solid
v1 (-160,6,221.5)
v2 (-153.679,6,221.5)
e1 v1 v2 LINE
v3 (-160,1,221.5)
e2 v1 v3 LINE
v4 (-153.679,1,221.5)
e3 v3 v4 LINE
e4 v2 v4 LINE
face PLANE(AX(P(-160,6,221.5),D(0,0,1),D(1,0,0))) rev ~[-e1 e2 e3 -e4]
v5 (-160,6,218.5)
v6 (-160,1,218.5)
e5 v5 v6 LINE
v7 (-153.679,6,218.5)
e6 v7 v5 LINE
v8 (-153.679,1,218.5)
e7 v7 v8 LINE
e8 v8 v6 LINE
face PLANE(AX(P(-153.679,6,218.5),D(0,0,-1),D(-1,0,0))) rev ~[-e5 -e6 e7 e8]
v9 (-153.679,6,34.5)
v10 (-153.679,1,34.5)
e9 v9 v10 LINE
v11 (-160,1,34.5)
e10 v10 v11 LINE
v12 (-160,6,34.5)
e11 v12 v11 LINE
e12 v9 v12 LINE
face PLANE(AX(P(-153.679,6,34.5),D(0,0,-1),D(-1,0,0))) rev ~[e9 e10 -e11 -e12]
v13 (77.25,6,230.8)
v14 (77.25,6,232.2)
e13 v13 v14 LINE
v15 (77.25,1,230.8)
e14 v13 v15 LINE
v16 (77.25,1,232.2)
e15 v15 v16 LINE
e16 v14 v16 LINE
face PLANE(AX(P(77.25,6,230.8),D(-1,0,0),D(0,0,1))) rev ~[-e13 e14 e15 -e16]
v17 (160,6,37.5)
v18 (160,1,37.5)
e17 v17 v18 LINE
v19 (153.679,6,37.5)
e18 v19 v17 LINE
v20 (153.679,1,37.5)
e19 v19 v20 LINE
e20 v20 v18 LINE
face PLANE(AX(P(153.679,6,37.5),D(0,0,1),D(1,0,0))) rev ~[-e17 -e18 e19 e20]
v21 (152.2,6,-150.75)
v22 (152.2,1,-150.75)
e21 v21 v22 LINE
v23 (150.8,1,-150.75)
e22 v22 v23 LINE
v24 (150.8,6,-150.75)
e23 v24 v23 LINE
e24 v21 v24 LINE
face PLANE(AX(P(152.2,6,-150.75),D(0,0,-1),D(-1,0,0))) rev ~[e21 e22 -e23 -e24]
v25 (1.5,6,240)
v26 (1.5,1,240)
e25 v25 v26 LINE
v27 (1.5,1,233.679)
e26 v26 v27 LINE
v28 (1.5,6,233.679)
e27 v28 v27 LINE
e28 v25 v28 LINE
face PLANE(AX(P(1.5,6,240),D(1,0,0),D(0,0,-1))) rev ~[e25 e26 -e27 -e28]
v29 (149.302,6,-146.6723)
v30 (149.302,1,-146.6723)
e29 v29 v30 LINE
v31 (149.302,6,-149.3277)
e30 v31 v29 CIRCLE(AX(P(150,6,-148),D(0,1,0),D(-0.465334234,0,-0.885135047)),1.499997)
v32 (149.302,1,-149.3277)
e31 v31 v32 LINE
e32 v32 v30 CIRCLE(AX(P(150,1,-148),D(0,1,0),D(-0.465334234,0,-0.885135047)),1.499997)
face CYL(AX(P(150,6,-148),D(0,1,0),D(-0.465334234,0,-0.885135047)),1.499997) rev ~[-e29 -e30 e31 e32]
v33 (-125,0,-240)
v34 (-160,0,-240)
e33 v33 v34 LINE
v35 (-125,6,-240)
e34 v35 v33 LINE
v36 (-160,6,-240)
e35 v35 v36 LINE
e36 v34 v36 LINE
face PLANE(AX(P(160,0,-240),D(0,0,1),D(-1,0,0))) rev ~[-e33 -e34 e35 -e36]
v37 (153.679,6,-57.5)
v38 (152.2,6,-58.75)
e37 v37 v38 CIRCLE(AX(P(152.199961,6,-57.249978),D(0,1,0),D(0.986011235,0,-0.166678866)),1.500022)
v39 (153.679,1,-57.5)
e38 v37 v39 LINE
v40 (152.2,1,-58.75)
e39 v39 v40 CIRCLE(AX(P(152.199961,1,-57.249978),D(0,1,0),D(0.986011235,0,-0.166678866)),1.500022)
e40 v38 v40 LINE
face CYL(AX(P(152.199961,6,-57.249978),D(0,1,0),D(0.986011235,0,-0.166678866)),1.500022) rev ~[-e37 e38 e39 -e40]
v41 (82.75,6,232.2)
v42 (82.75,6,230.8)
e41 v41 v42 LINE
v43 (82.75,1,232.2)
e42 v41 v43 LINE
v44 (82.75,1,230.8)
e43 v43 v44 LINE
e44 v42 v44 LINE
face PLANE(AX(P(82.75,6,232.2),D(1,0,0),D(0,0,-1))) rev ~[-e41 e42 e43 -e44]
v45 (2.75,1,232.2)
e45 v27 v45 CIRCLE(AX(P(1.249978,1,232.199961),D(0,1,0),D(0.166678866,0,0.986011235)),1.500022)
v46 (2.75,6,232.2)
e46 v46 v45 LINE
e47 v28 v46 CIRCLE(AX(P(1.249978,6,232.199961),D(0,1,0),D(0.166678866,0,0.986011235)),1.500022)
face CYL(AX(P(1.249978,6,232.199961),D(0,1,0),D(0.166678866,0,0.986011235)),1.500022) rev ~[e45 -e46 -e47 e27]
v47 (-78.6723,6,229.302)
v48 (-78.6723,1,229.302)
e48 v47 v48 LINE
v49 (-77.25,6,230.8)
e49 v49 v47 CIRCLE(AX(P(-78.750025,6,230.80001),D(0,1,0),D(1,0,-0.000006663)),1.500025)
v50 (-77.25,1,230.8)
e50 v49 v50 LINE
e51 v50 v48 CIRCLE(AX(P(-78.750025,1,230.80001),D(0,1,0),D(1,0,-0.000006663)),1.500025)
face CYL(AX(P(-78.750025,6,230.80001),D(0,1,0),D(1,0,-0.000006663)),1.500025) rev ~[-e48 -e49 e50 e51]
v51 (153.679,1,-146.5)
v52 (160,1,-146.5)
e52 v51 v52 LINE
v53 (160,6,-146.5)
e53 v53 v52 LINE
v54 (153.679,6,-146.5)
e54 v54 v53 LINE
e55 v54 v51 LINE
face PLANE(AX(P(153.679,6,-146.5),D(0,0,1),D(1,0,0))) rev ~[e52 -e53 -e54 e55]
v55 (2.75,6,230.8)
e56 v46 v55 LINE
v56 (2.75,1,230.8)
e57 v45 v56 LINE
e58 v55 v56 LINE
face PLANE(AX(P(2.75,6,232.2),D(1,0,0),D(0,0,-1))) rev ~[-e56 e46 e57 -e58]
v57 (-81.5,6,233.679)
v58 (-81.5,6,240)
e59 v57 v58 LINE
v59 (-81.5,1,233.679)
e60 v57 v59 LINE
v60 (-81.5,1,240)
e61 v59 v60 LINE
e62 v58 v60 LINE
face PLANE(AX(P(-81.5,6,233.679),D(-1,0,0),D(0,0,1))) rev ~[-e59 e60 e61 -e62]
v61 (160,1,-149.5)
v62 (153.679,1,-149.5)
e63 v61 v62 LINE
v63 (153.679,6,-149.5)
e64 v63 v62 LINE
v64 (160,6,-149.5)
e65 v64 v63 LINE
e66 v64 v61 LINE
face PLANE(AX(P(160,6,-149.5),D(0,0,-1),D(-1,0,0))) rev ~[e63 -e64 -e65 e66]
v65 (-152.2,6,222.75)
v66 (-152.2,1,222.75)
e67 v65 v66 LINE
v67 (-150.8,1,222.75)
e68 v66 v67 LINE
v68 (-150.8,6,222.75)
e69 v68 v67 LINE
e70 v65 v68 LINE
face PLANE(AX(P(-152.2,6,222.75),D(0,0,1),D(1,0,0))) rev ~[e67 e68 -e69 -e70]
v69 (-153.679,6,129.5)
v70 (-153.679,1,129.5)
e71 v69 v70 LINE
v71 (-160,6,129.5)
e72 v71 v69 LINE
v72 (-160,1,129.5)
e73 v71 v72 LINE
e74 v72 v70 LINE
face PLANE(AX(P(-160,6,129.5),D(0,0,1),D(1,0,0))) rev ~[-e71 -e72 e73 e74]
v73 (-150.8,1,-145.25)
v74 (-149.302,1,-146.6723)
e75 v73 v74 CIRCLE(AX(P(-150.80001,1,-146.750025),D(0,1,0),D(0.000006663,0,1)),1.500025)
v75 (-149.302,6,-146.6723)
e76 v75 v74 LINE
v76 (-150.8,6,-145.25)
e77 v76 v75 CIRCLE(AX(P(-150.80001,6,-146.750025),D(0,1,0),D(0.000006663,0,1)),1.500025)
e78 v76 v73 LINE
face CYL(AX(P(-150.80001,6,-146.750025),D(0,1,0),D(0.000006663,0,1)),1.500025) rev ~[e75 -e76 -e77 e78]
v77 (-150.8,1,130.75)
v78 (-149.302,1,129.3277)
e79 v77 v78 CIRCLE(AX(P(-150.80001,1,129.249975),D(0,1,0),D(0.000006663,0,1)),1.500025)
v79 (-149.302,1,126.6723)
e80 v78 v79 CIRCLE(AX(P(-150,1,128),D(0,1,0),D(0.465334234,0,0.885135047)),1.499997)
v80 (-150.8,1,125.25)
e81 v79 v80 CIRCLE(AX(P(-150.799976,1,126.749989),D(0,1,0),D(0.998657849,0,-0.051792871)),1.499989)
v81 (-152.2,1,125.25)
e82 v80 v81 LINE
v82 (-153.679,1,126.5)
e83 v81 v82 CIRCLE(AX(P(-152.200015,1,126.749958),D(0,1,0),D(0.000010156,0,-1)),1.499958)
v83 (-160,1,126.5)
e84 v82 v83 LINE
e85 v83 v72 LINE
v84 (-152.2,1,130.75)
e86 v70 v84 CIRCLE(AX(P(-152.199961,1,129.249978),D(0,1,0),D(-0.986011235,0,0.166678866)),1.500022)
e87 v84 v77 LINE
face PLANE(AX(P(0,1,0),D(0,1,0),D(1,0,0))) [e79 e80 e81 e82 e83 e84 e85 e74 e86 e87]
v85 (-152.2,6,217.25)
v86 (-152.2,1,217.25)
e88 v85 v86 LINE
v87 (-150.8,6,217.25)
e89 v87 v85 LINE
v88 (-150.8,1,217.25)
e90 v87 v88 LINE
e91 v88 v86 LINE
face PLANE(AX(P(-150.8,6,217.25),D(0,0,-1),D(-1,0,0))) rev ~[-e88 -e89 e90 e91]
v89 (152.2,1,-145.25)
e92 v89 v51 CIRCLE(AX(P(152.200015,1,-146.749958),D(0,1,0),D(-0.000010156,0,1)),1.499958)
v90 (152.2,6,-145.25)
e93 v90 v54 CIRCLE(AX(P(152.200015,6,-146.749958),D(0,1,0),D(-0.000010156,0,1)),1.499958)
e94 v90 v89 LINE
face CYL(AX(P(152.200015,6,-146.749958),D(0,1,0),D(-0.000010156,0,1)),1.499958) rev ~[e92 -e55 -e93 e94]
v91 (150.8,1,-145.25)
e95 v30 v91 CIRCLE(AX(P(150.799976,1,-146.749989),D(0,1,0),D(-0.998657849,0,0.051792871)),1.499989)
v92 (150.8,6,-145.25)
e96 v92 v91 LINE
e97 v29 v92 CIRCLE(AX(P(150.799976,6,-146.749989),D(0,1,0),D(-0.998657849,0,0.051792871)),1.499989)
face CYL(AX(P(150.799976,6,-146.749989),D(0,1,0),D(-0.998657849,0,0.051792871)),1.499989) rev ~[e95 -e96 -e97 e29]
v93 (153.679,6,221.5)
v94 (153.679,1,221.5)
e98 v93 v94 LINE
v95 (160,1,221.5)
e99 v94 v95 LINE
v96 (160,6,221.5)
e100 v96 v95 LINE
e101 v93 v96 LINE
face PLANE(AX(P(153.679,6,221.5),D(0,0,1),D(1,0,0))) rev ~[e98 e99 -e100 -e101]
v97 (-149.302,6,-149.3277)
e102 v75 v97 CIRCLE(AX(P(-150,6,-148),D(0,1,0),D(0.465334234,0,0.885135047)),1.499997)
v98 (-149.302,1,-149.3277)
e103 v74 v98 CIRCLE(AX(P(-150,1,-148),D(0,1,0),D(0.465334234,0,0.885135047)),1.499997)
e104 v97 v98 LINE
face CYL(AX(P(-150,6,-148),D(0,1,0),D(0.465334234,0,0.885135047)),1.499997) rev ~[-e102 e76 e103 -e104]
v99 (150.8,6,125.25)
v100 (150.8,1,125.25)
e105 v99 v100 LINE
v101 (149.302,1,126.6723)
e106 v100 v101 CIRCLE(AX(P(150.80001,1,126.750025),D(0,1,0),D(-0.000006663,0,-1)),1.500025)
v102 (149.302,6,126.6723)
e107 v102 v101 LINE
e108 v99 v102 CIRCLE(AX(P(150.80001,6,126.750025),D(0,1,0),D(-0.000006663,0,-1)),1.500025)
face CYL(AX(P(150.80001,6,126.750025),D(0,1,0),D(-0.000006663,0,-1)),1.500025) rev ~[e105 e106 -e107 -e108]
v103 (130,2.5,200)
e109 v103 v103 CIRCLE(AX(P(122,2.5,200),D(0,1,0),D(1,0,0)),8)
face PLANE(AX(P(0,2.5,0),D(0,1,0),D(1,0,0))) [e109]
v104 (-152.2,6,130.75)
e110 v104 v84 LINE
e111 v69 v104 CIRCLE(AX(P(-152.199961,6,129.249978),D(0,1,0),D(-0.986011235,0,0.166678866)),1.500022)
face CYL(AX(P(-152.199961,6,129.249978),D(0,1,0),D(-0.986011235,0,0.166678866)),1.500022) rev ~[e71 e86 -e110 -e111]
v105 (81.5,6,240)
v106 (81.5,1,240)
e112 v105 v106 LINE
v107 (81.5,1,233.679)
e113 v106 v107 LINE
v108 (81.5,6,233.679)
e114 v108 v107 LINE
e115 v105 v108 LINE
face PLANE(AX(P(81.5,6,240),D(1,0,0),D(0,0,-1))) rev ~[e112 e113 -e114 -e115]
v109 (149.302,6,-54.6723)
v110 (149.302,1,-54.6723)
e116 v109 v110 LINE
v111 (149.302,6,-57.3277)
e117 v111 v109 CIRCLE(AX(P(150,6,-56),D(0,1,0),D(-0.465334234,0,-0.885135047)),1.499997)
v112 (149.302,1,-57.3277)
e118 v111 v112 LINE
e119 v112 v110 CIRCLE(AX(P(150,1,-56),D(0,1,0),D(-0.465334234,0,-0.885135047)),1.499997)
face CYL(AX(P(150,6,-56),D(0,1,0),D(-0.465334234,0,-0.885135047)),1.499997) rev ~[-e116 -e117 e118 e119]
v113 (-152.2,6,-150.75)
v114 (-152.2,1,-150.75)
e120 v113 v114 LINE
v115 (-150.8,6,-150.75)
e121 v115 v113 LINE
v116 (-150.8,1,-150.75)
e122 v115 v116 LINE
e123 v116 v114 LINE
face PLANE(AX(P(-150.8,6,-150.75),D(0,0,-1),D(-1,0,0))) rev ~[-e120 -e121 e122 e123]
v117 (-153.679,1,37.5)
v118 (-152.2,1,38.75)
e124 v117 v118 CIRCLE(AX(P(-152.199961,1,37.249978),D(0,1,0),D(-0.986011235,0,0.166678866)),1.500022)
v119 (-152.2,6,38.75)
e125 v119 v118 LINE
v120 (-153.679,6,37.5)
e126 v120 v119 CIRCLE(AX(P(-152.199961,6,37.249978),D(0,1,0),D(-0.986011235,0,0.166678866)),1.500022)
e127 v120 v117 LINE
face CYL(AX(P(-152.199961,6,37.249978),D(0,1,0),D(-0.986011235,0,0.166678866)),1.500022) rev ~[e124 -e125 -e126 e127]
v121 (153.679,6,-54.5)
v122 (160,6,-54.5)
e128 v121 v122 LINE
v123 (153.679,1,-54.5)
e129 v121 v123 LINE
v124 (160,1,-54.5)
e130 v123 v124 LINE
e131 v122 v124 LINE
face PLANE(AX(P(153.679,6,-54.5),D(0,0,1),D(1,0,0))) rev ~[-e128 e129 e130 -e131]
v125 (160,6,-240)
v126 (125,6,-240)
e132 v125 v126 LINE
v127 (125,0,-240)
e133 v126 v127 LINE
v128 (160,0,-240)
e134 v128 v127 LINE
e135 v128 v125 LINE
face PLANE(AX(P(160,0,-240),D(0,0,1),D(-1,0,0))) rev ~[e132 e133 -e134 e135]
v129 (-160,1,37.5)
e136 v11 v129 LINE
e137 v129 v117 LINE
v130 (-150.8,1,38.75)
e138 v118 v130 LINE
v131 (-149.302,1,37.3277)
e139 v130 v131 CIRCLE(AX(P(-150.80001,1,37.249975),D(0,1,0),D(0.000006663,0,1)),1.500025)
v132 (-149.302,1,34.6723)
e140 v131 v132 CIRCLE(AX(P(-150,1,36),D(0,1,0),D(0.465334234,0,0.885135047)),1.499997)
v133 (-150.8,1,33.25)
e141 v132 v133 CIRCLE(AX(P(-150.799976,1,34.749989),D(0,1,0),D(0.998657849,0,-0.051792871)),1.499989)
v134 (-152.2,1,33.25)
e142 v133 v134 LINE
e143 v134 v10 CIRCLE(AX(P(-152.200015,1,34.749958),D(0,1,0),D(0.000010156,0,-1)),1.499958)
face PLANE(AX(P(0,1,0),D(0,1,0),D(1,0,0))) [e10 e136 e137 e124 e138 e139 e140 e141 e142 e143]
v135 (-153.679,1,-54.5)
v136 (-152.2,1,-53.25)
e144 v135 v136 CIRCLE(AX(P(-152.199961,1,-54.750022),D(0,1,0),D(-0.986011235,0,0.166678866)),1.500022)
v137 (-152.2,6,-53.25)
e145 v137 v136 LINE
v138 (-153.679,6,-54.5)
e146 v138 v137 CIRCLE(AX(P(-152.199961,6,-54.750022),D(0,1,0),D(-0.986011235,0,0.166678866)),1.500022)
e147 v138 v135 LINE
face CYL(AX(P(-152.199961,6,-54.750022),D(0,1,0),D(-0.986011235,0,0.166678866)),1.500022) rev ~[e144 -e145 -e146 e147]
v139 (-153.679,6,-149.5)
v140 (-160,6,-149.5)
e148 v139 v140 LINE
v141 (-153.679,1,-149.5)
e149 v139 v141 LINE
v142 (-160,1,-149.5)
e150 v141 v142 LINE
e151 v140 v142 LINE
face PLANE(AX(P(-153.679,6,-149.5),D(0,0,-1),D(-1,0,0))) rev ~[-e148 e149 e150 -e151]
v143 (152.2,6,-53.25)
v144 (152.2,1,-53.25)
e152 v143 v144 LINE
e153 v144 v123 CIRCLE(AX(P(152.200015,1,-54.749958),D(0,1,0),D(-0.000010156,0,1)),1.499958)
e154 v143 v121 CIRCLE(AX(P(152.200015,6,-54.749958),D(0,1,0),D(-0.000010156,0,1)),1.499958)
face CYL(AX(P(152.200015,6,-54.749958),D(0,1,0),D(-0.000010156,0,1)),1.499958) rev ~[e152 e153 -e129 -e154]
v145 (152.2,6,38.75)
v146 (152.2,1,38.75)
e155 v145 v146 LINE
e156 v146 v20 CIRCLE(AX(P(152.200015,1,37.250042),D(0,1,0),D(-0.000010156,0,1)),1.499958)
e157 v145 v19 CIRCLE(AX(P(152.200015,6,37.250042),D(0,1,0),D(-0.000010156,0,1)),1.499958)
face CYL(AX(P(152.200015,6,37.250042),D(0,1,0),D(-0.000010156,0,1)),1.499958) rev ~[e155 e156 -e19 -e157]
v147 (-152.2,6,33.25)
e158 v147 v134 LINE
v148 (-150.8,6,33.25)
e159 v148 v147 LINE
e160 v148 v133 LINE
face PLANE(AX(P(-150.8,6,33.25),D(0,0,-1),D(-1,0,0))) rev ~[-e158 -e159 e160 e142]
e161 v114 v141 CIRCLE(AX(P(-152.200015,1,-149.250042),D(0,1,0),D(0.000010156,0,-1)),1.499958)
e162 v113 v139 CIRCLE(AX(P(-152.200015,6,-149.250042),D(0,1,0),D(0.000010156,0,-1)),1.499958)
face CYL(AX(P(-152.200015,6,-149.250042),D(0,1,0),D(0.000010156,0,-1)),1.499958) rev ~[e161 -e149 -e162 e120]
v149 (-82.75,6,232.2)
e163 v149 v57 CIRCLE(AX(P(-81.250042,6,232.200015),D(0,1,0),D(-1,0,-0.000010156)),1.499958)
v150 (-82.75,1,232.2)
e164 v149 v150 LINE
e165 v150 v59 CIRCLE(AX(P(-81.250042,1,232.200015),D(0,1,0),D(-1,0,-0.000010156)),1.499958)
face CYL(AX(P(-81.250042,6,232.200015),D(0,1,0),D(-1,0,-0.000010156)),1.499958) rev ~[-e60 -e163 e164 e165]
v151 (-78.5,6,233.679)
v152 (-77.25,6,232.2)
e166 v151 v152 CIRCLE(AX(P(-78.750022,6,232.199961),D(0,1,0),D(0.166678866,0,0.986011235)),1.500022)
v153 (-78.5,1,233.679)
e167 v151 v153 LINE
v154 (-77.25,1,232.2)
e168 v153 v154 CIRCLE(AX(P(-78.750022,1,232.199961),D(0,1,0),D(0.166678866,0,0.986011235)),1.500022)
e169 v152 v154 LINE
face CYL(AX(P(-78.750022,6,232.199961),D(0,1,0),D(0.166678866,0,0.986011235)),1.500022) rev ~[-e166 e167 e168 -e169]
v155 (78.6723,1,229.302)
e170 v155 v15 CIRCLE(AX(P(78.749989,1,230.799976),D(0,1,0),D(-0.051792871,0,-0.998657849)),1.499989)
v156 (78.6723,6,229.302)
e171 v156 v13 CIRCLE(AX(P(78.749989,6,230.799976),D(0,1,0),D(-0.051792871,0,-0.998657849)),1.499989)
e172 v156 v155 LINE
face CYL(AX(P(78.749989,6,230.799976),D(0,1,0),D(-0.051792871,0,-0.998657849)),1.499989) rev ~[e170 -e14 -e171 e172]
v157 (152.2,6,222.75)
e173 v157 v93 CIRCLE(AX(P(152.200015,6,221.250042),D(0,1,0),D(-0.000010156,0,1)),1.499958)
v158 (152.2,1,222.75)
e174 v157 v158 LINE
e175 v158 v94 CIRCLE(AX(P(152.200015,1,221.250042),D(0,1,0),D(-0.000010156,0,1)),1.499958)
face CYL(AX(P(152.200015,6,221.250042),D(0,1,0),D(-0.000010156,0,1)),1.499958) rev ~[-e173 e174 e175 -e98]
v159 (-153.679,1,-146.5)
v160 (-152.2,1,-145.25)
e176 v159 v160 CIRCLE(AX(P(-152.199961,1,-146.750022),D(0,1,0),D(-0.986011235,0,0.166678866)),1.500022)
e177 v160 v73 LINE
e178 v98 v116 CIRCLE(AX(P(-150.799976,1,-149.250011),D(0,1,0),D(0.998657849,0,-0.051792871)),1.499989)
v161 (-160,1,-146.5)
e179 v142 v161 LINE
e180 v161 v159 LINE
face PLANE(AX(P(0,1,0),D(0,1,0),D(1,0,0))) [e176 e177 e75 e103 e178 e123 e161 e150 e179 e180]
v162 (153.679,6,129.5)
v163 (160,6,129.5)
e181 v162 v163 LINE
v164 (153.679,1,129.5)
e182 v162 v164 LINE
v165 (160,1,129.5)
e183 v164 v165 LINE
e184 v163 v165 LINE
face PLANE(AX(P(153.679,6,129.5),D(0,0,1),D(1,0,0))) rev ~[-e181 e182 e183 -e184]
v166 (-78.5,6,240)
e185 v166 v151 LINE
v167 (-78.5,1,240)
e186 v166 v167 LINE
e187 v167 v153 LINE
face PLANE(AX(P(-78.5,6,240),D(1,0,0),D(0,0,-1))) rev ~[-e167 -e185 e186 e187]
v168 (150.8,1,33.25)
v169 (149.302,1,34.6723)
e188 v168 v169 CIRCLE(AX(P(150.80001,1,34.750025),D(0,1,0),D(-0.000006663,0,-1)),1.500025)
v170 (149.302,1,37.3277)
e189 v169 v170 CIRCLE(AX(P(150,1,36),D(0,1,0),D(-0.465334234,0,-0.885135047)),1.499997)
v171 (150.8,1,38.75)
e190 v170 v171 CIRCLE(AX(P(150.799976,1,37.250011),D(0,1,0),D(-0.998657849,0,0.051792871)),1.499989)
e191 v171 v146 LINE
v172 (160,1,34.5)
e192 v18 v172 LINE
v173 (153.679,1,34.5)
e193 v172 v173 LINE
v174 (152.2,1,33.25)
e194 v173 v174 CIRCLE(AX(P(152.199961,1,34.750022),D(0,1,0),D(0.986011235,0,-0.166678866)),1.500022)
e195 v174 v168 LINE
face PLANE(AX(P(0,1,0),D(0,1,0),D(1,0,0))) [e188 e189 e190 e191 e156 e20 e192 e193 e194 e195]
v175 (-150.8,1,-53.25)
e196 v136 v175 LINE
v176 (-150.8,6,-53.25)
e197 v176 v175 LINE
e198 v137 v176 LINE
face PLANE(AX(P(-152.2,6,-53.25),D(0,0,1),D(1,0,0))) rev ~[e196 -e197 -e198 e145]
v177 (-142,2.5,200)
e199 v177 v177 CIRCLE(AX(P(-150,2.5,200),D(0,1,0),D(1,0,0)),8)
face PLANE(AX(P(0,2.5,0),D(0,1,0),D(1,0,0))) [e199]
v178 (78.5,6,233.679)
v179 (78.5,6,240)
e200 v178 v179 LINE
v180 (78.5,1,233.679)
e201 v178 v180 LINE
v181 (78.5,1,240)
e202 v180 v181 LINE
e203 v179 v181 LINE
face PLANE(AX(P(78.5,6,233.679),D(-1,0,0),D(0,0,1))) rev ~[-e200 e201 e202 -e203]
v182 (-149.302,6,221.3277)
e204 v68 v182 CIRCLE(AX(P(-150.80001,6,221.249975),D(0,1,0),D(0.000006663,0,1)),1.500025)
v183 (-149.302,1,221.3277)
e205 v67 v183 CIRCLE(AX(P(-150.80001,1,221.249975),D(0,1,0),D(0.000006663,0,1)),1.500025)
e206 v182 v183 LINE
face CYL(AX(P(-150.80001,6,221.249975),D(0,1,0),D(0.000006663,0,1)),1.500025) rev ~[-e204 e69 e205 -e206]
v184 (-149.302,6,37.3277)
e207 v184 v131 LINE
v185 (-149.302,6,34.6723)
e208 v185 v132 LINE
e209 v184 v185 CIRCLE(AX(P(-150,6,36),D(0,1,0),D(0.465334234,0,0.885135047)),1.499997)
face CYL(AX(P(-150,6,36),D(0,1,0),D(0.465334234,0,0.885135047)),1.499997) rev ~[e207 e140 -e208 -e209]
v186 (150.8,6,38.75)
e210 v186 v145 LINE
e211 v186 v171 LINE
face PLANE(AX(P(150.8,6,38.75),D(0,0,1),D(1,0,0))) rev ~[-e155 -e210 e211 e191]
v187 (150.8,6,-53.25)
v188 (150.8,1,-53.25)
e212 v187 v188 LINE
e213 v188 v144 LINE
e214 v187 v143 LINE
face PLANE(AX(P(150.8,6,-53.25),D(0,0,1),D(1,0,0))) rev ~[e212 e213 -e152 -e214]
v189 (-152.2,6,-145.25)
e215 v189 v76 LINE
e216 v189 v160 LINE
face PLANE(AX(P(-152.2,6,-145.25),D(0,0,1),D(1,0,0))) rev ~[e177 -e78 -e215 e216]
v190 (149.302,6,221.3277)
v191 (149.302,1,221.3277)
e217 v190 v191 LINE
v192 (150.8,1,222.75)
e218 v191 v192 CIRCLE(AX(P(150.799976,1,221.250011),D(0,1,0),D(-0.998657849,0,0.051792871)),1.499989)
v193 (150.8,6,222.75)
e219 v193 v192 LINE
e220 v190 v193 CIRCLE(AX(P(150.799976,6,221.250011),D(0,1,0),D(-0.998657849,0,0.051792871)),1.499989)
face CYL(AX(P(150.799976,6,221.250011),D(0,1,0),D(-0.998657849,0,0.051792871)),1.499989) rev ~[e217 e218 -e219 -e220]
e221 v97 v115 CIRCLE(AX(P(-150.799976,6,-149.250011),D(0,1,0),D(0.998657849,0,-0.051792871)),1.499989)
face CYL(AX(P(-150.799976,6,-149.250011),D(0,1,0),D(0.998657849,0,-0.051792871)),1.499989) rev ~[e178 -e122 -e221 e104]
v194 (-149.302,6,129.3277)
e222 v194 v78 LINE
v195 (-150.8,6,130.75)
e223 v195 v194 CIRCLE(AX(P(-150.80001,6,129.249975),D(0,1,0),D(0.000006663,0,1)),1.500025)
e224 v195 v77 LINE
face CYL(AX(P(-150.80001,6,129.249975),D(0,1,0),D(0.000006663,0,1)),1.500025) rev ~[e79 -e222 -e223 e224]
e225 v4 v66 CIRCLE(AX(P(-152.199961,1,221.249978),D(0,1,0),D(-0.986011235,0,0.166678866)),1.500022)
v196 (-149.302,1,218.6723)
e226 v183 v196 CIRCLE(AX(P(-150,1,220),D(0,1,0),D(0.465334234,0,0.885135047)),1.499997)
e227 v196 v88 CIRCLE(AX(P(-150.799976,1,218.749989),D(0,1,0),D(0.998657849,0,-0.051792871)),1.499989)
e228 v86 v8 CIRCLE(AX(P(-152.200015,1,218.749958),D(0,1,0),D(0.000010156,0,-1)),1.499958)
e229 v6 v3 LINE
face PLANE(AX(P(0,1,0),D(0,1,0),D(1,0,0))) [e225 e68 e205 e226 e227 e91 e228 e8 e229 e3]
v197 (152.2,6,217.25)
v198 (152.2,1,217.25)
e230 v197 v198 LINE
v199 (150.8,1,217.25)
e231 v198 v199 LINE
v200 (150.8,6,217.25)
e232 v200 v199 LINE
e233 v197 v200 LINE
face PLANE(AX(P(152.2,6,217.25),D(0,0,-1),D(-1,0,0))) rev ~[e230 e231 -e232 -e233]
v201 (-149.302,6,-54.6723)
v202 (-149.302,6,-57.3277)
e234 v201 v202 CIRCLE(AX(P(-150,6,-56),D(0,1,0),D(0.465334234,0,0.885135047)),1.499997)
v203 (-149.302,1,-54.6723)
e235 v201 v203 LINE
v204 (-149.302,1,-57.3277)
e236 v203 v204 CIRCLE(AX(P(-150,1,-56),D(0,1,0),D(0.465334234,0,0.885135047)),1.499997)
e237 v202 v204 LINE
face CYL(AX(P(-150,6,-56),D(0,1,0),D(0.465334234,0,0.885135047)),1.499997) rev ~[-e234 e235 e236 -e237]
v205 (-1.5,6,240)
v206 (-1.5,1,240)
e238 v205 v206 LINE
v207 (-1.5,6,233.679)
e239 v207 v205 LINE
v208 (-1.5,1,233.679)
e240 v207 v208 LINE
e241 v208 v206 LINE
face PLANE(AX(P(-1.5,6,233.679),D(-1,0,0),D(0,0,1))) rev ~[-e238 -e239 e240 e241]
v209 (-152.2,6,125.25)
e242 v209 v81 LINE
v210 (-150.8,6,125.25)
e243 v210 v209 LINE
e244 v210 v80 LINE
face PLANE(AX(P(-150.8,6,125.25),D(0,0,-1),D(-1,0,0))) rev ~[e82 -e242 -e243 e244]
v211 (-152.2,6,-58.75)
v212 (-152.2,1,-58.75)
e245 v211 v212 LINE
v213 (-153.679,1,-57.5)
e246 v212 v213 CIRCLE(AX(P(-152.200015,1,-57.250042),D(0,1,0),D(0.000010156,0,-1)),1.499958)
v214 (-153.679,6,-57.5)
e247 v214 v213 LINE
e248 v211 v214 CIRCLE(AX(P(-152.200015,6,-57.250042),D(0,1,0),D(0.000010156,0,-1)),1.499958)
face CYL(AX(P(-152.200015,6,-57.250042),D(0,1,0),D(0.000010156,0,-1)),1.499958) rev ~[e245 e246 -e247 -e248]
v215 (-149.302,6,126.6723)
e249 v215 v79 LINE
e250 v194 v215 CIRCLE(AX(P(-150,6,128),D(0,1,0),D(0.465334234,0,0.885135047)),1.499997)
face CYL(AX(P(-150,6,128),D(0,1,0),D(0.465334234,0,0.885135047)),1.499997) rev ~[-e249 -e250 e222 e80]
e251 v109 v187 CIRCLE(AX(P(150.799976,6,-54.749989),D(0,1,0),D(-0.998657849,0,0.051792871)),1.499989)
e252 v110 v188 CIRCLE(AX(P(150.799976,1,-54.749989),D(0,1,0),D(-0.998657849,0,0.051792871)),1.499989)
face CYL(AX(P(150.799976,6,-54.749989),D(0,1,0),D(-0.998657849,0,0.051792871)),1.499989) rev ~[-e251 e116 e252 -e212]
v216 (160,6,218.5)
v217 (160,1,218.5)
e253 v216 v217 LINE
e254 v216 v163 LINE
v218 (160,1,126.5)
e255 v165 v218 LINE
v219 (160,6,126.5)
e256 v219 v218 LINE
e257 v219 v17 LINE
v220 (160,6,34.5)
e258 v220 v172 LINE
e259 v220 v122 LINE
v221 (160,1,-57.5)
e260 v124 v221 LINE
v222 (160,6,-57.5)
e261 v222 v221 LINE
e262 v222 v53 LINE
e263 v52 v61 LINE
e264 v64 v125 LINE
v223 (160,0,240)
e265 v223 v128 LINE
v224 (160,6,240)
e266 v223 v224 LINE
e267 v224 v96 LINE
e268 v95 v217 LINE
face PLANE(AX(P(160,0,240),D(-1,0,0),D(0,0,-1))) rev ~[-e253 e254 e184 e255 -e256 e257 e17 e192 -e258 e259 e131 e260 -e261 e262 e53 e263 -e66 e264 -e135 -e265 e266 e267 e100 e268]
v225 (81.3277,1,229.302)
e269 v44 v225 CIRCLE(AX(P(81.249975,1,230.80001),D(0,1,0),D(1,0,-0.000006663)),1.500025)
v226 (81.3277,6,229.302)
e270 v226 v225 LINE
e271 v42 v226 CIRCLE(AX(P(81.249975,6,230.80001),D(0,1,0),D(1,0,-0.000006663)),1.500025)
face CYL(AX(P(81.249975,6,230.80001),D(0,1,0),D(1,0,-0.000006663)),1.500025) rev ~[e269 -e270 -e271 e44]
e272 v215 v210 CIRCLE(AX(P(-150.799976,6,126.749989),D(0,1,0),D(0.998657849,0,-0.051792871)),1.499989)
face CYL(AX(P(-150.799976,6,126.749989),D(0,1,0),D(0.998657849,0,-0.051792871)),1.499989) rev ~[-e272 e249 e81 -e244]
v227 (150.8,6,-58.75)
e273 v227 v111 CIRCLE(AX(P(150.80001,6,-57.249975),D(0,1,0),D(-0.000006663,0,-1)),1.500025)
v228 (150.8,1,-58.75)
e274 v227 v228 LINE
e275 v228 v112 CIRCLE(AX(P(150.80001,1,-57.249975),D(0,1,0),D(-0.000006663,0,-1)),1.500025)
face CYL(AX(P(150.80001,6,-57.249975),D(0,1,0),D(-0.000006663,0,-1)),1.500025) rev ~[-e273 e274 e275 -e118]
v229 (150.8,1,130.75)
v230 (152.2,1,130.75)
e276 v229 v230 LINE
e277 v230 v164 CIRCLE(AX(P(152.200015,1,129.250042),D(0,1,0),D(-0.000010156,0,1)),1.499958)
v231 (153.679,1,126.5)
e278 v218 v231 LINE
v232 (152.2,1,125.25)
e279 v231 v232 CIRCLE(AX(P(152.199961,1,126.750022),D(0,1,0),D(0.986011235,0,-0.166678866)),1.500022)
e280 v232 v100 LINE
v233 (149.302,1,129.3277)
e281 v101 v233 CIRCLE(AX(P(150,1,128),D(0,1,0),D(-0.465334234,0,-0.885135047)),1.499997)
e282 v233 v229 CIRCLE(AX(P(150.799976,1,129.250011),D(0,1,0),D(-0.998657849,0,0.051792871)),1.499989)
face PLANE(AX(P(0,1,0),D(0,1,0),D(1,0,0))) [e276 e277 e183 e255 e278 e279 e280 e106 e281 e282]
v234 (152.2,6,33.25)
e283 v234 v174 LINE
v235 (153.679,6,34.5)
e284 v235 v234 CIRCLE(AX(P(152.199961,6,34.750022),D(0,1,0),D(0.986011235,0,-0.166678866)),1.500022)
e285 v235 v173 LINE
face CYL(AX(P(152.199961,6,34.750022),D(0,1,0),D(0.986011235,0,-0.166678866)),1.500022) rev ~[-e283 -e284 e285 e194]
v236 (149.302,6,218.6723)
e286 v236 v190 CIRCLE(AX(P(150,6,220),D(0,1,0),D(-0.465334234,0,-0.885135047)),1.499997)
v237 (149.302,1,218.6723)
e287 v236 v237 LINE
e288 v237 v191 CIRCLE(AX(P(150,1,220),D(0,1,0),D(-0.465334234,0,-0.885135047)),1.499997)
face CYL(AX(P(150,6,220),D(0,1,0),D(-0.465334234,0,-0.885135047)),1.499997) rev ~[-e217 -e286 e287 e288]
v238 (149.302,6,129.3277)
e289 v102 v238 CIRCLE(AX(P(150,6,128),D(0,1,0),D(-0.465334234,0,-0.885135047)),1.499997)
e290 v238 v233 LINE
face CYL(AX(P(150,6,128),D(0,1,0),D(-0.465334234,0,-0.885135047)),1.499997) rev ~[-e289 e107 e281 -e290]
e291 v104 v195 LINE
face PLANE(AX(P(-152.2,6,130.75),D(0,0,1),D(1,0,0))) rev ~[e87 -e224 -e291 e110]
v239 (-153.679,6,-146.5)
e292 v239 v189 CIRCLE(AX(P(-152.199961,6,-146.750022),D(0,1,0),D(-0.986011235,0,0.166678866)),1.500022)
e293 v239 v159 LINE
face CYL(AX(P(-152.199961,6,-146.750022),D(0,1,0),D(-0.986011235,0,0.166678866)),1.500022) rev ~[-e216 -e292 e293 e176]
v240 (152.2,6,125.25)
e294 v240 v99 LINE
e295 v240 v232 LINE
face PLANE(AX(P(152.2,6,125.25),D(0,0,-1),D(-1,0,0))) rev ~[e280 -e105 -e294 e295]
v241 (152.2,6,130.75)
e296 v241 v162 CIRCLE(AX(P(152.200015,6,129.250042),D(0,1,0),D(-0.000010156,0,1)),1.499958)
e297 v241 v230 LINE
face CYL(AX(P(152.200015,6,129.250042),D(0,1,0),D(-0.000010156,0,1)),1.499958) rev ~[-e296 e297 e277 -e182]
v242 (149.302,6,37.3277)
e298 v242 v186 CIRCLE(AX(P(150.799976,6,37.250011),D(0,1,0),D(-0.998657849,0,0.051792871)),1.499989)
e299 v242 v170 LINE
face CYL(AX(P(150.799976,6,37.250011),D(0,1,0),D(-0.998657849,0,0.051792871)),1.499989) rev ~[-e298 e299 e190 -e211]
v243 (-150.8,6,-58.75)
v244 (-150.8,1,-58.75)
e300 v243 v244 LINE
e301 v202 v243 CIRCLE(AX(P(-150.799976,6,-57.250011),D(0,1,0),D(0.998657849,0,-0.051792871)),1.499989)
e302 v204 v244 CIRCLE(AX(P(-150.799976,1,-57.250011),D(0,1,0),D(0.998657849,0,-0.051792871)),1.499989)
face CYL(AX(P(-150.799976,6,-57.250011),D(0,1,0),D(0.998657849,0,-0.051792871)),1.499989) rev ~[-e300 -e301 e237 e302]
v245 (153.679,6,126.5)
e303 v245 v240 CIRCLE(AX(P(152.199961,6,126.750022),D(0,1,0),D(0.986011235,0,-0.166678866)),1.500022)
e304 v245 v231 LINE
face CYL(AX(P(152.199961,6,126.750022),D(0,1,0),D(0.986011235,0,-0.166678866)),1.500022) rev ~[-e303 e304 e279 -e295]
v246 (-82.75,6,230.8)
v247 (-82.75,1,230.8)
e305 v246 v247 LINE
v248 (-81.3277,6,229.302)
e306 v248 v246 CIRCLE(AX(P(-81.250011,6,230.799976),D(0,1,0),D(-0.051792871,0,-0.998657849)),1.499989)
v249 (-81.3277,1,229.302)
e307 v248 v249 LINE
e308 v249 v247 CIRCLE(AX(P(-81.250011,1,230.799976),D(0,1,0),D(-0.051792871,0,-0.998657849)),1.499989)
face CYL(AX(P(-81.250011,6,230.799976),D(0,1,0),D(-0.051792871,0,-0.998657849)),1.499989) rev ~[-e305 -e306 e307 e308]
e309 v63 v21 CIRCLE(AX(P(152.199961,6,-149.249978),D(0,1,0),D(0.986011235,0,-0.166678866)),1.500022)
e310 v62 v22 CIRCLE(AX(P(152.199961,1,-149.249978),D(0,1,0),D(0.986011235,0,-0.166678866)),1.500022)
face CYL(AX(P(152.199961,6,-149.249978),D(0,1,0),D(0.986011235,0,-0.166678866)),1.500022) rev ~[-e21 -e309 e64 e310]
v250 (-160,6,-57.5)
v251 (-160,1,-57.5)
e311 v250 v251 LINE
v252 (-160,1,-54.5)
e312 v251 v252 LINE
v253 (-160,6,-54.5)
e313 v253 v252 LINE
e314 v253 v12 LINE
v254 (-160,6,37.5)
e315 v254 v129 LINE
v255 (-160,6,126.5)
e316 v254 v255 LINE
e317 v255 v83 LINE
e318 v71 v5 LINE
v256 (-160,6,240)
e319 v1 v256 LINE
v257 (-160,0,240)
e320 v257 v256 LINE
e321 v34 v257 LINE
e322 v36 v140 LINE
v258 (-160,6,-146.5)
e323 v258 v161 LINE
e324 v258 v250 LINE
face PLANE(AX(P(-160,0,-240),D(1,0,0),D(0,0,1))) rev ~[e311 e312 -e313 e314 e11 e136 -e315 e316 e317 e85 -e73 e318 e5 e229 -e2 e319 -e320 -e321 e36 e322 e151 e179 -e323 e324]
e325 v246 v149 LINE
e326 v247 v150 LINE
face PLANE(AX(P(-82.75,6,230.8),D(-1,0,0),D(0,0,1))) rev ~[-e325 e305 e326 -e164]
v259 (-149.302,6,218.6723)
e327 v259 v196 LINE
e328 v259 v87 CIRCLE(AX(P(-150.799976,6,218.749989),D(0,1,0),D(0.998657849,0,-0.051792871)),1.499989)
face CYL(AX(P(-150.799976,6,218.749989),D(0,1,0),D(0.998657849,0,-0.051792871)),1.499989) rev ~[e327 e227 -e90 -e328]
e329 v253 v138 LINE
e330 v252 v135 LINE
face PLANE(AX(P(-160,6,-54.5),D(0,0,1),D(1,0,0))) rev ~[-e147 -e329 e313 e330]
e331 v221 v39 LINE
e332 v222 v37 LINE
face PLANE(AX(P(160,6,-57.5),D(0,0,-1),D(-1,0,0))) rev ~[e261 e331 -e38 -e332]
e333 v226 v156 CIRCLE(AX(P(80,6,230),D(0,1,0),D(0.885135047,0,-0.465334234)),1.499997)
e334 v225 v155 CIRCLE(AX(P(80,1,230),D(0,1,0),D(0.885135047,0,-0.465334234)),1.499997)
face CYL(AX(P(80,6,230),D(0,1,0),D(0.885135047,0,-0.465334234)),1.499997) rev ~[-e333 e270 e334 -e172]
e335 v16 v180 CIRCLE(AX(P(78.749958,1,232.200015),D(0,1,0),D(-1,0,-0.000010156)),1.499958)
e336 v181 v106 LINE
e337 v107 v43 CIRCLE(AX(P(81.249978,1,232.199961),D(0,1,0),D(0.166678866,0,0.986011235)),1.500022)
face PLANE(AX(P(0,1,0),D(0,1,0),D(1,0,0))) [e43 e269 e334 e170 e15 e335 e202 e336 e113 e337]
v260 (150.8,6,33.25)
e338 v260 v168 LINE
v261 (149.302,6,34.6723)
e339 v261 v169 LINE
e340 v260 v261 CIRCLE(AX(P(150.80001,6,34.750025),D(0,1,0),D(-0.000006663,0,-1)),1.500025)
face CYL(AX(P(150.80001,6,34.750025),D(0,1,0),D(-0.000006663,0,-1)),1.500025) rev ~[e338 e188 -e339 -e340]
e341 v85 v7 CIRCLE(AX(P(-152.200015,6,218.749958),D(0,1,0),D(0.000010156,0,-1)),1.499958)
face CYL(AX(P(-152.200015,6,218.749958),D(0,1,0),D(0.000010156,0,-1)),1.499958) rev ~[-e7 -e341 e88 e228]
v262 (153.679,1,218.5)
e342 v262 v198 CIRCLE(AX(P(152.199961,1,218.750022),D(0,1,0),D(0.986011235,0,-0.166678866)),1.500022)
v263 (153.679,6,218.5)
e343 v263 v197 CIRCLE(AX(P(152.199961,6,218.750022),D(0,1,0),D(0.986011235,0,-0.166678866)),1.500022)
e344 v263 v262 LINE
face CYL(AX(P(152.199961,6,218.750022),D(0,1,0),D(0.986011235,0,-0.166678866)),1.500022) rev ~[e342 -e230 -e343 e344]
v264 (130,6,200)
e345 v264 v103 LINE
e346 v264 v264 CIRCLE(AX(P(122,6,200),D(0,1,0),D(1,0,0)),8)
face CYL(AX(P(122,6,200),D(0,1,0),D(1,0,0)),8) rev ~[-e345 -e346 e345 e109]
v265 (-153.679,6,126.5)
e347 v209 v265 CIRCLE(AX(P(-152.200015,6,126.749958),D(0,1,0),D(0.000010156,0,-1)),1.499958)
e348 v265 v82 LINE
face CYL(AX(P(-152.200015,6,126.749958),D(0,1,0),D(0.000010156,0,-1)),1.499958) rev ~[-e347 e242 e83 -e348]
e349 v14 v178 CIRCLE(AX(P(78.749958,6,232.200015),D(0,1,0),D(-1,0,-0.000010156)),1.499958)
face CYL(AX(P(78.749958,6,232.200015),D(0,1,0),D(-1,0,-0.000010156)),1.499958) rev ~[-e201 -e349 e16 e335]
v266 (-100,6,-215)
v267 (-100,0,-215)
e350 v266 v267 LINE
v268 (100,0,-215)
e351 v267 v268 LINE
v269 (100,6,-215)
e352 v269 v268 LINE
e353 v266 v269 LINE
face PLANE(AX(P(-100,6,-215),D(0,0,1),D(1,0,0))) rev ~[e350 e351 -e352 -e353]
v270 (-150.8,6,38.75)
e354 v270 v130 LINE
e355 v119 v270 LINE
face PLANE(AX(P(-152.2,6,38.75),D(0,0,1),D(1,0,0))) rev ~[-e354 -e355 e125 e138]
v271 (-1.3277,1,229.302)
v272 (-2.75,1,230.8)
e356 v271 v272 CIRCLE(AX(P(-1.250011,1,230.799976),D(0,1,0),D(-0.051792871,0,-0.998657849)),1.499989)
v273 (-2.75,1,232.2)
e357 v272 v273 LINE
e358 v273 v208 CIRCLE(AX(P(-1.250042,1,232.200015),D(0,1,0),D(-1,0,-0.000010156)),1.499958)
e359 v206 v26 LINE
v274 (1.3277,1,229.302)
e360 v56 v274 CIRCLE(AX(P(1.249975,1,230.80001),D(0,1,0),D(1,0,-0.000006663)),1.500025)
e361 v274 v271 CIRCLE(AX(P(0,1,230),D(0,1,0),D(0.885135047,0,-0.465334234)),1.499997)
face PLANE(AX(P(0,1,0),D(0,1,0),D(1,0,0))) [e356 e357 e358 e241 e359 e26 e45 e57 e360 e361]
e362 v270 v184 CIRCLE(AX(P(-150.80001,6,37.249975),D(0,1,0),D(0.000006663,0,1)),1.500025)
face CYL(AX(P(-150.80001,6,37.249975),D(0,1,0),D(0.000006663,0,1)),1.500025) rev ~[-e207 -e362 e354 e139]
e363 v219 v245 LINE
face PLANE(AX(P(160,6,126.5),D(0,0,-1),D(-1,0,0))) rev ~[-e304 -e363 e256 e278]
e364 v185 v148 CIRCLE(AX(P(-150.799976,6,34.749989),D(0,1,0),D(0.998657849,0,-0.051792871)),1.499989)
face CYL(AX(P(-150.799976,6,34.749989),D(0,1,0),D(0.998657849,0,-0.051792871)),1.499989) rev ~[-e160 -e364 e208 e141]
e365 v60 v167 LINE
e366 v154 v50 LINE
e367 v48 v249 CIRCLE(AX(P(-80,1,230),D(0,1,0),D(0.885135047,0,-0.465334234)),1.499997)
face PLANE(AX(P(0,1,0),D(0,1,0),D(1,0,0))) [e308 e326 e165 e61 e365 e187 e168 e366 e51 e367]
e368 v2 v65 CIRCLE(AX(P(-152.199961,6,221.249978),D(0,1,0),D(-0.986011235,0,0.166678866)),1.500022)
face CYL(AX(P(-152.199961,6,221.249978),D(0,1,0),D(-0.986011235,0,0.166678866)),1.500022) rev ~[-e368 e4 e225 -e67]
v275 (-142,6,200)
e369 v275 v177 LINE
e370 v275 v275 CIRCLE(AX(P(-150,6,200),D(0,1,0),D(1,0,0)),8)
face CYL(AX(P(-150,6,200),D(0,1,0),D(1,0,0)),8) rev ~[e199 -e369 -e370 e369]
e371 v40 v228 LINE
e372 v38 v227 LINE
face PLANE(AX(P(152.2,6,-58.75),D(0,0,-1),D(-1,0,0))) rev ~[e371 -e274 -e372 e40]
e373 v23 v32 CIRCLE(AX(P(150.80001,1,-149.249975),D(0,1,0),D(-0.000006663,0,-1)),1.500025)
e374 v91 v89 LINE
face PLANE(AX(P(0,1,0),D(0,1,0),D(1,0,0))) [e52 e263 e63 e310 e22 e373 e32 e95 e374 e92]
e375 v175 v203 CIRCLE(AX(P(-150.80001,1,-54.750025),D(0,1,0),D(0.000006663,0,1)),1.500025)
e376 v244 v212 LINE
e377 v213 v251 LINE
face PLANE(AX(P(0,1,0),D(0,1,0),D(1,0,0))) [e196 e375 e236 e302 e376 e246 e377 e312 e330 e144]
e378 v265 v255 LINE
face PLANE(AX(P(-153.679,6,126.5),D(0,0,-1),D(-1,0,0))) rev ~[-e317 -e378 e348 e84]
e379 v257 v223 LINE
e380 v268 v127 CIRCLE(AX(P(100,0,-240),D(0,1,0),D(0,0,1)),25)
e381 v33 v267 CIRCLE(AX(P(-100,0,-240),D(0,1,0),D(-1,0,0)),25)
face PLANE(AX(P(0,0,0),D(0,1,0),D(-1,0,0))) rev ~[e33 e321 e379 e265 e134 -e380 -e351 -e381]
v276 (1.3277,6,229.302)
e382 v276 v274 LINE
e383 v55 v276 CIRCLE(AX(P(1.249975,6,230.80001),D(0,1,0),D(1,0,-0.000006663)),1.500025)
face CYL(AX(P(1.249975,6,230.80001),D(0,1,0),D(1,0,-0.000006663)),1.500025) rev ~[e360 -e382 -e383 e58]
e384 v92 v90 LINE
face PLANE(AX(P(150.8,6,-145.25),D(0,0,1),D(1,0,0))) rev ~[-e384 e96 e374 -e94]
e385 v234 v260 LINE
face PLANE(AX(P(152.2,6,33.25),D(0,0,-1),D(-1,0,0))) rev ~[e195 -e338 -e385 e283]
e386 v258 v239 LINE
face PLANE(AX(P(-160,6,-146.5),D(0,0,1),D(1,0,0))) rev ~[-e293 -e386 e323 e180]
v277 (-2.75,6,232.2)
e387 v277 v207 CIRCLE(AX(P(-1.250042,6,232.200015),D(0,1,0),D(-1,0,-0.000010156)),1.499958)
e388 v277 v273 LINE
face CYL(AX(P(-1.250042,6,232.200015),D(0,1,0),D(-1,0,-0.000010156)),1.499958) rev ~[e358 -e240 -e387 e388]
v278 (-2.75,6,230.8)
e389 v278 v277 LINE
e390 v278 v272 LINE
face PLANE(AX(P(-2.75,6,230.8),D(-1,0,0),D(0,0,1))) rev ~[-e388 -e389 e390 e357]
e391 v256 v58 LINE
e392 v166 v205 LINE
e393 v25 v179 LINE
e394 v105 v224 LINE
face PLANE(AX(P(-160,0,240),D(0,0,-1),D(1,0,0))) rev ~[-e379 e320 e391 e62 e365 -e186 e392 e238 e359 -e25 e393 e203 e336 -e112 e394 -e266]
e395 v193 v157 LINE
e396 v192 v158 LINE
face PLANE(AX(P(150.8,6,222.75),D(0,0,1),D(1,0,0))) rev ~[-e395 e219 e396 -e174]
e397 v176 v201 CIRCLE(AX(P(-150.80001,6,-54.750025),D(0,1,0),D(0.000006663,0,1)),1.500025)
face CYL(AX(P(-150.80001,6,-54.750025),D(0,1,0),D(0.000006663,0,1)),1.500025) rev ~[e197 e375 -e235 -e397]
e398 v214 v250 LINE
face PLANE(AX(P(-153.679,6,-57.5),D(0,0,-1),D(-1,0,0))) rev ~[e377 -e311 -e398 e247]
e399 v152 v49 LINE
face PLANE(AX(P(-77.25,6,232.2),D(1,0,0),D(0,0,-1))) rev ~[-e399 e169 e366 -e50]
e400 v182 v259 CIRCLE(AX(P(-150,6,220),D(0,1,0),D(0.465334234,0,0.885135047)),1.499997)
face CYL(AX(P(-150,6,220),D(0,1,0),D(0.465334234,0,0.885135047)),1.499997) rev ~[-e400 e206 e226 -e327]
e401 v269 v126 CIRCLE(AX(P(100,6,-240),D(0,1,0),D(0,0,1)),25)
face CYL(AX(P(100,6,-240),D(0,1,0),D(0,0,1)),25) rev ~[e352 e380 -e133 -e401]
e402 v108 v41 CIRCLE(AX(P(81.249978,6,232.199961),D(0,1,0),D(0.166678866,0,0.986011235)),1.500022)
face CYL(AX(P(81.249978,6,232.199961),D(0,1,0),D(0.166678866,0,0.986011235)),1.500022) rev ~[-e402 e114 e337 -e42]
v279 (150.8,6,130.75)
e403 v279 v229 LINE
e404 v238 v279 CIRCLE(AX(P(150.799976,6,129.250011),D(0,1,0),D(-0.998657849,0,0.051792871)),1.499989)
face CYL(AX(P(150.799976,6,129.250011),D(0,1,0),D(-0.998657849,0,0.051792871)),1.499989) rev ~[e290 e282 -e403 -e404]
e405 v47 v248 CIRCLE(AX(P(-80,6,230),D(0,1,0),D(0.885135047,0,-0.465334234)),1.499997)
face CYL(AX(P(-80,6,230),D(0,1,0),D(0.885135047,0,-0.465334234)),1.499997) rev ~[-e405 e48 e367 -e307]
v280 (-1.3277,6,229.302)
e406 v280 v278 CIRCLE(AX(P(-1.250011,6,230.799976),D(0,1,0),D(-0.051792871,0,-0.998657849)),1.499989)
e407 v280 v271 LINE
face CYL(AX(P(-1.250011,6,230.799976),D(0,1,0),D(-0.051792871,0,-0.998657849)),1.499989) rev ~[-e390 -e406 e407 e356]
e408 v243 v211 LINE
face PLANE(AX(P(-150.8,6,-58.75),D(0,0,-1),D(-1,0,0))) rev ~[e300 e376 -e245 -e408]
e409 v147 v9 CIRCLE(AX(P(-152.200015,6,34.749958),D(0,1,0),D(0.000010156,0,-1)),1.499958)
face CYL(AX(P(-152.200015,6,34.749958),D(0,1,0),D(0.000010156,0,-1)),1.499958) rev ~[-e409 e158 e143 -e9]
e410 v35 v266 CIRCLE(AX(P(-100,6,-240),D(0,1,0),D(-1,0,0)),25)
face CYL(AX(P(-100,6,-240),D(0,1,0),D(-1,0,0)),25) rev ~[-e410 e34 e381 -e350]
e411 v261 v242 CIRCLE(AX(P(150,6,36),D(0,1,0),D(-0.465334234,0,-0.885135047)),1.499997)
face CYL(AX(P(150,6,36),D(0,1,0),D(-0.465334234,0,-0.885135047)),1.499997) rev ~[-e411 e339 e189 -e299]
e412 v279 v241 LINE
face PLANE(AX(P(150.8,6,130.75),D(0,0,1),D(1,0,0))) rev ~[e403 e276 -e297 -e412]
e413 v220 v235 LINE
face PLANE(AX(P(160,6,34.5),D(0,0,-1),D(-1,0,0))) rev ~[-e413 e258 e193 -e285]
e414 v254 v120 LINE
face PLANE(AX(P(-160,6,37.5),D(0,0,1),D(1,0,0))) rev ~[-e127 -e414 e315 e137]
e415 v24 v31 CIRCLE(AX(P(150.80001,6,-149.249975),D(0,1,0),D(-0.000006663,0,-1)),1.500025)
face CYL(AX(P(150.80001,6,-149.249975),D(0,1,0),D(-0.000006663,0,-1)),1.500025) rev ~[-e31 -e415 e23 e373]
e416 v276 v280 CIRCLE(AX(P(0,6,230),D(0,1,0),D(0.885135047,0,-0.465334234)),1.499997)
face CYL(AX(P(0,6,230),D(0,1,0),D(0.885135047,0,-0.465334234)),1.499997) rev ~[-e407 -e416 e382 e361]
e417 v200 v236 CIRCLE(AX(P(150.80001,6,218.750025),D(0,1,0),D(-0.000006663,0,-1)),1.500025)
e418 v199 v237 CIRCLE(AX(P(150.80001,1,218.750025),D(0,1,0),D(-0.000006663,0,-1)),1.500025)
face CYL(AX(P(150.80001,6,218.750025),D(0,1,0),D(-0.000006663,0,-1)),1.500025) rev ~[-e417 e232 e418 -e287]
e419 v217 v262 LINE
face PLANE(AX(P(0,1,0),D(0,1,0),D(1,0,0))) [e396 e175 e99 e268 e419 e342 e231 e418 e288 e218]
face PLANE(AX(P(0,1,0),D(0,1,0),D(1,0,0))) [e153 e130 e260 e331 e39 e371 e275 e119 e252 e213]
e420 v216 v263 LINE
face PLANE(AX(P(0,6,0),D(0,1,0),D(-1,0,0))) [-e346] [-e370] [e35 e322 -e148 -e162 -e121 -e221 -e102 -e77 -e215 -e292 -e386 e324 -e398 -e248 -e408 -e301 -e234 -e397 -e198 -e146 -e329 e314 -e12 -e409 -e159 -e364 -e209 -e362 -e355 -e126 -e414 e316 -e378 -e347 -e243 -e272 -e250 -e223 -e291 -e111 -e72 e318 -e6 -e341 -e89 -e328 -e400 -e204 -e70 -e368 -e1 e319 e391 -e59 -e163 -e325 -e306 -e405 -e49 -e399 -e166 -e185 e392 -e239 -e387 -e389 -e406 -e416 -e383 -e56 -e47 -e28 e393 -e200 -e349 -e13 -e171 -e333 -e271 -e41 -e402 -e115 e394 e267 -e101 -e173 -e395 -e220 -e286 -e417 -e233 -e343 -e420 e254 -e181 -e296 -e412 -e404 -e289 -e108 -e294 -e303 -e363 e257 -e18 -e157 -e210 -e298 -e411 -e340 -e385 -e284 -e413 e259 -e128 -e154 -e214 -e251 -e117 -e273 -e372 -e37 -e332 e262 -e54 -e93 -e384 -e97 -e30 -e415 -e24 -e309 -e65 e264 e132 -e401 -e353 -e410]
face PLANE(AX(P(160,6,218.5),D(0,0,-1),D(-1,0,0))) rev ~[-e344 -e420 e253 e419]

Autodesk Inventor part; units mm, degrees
ref_plane "YZ Plane" through (0, 0, 0) normal (1, 0, 0) x (0, 1, 0)
ref_plane "XZ Plane" through (0, 0, 0) normal (0, 1, 0) x (-1, 0, 0)
ref_plane "XY Plane" through (0, 0, 0) normal (0, 0, 1) x (1, 0, 0)
sketch "Sketch1" plane through (0, 0, 0) normal (0, 1, 0) x (-1, 0, 0)
  line L0 (160, 240) -> (-160, 240)
  line L1 (-160, 240) -> (-160, -240)
  line L2 (-160, -240) -> (160, -240)
  line L3 (160, -240) -> (160, 240)
  point P0 (0, 0)
  dimension "d0" = 320
  dimension "d1" = 480
  dimension "d2" = 240
  dimension "d3" = 160
extrude "Tykkelse" add sketch "Sketch1" along normal blind 6
sketch "Sketch2" plane through (0, 6, 0) normal (0, 1, 0) x (1, 0, 0)
  line L0 (160, 240) -> (-160, 240) construction
  arc A0 (100, 215) -> (125, 240) centre (100, 240) ccw
  arc A1 (-125, 240) -> (-100, 215) centre (-100, 240) ccw
  line L1 (-100, 215) -> (100, 215)
  line L2 (-125, 240) -> (125, 240)
  point P0 (0, 0)
  dimension "d6" = 50
  dimension "d7" = 50
  dimension "d8" = 60
  dimension "d9" = 60
extrude "Fødder" cut sketch "Sketch2" against normal up to surface (6 mm away)
sketch "Sketch7" plane through (0, 6, 0) normal (0, 1, 0) x (1, 0, 0)
  line L0 (-160, 146.5) -> (-153.679, 146.5) projected
  line L1 (-160, 149.5) -> (-160, 146.5) projected
  line L2 (-153.679, 149.5) -> (-160, 149.5) projected
  arc A0 (-152.2, 150.75) -> (-153.679, 149.5) centre (-152.2, 149.25) ccw projected
  line L3 (-150.8, 150.75) -> (-152.2, 150.75) projected
  arc A1 (-149.302, 149.3277) -> (-150.8, 150.75) centre (-150.8, 149.25) ccw projected
  arc A2 (-149.302, 146.6723) -> (-149.302, 149.3277) centre (-150, 148) ccw projected
  arc A3 (-150.8, 145.25) -> (-149.302, 146.6723) centre (-150.8, 146.75) ccw projected
  line L4 (-152.2, 145.25) -> (-150.8, 145.25) projected
  arc A4 (-153.679, 146.5) -> (-152.2, 145.25) centre (-152.2, 146.75) ccw projected
  line L5 (-150.8, 58.75) -> (-152.2, 58.75) projected
  arc A5 (-149.302, 57.3277) -> (-150.8, 58.75) centre (-150.8, 57.25) ccw projected
  arc A6 (-149.302, 54.6723) -> (-149.302, 57.3277) centre (-150, 56) ccw projected
  arc A7 (-150.8, 53.25) -> (-149.302, 54.6723) centre (-150.8, 54.75) ccw projected
  line L6 (-152.2, 53.25) -> (-150.8, 53.25) projected
  arc A8 (-153.679, 54.5) -> (-152.2, 53.25) centre (-152.2, 54.75) ccw projected
  line L7 (-160, 54.5) -> (-153.679, 54.5) projected
  line L8 (-160, 57.5) -> (-160, 54.5) projected
  line L9 (-153.679, 57.5) -> (-160, 57.5) projected
  arc A9 (-152.2, 58.75) -> (-153.679, 57.5) centre (-152.2, 57.25) ccw projected
  line L10 (-150.8, -33.25) -> (-152.2, -33.25) projected
  arc A10 (-149.302, -34.6723) -> (-150.8, -33.25) centre (-150.8, -34.75) ccw projected
  arc A11 (-149.302, -37.3277) -> (-149.302, -34.6723) centre (-150, -36) ccw projected
  arc A12 (-150.8, -38.75) -> (-149.302, -37.3277) centre (-150.8, -37.25) ccw projected
  line L11 (-152.2, -38.75) -> (-150.8, -38.75) projected
  arc A13 (-153.679, -37.5) -> (-152.2, -38.75) centre (-152.2, -37.25) ccw projected
  line L12 (-160, -37.5) -> (-153.679, -37.5) projected
  line L13 (-160, -34.5) -> (-160, -37.5) projected
  line L14 (-153.679, -34.5) -> (-160, -34.5) projected
  arc A14 (-152.2, -33.25) -> (-153.679, -34.5) centre (-152.2, -34.75) ccw projected
  arc A15 (-150.8, -130.75) -> (-149.302, -129.3277) centre (-150.8, -129.25) ccw projected
  line L15 (-152.2, -130.75) -> (-150.8, -130.75) projected
  arc A16 (-153.679, -129.5) -> (-152.2, -130.75) centre (-152.2, -129.25) ccw projected
  line L16 (-160, -129.5) -> (-153.679, -129.5) projected
  line L17 (-160, -126.5) -> (-160, -129.5) projected
  line L18 (-153.679, -126.5) -> (-160, -126.5) projected
  arc A17 (-152.2, -125.25) -> (-153.679, -126.5) centre (-152.2, -126.75) ccw projected
  line L19 (-150.8, -125.25) -> (-152.2, -125.25) projected
  arc A18 (-149.302, -126.6723) -> (-150.8, -125.25) centre (-150.8, -126.75) ccw projected
  arc A19 (-149.302, -129.3277) -> (-149.302, -126.6723) centre (-150, -128) ccw projected
  arc A20 (-149.302, -218.6723) -> (-150.8, -217.25) centre (-150.8, -218.75) ccw projected
  arc A21 (-149.302, -221.3277) -> (-149.302, -218.6723) centre (-150, -220) ccw projected
  arc A22 (-150.8, -222.75) -> (-149.302, -221.3277) centre (-150.8, -221.25) ccw projected
  line L20 (-152.2, -222.75) -> (-150.8, -222.75) projected
  arc A23 (-153.679, -221.5) -> (-152.2, -222.75) centre (-152.2, -221.25) ccw projected
  line L21 (-160, -221.5) -> (-153.679, -221.5) projected
  line L22 (-160, -218.5) -> (-160, -221.5) projected
  line L23 (-153.679, -218.5) -> (-160, -218.5) projected
  arc A24 (-152.2, -217.25) -> (-153.679, -218.5) centre (-152.2, -218.75) ccw projected
  line L24 (-150.8, -217.25) -> (-152.2, -217.25) projected
  line L25 (-81.5, -240) -> (-78.5, -240) projected
  line L26 (-81.5, -233.679) -> (-81.5, -240) projected
  arc A25 (-82.75, -232.2) -> (-81.5, -233.679) centre (-81.25, -232.2) ccw projected
  line L27 (-82.75, -230.8) -> (-82.75, -232.2) projected
  arc A26 (-81.3277, -229.302) -> (-82.75, -230.8) centre (-81.25, -230.8) ccw projected
  arc A27 (-78.6723, -229.302) -> (-81.3277, -229.302) centre (-80, -230) ccw projected
  arc A28 (-77.25, -230.8) -> (-78.6723, -229.302) centre (-78.75, -230.8) ccw projected
  line L28 (-77.25, -232.2) -> (-77.25, -230.8) projected
  arc A29 (-78.5, -233.679) -> (-77.25, -232.2) centre (-78.75, -232.2) ccw projected
  line L29 (-78.5, -240) -> (-78.5, -233.679) projected
  arc A30 (2.75, -230.8) -> (1.3277, -229.302) centre (1.25, -230.8) ccw projected
  line L30 (2.75, -232.2) -> (2.75, -230.8) projected
  arc A31 (1.5, -233.679) -> (2.75, -232.2) centre (1.25, -232.2) ccw projected
  line L31 (1.5, -240) -> (1.5, -233.679) projected
  line L32 (-1.5, -240) -> (1.5, -240) projected
  line L33 (-1.5, -233.679) -> (-1.5, -240) projected
  arc A32 (-2.75, -232.2) -> (-1.5, -233.679) centre (-1.25, -232.2) ccw projected
  line L34 (-2.75, -230.8) -> (-2.75, -232.2) projected
  arc A33 (-1.3277, -229.302) -> (-2.75, -230.8) centre (-1.25, -230.8) ccw projected
  arc A34 (1.3277, -229.302) -> (-1.3277, -229.302) centre (0, -230) ccw projected
  arc A35 (82.75, -230.8) -> (81.3277, -229.302) centre (81.25, -230.8) ccw projected
  line L35 (82.75, -232.2) -> (82.75, -230.8) projected
  arc A36 (81.5, -233.679) -> (82.75, -232.2) centre (81.25, -232.2) ccw projected
  line L36 (81.5, -240) -> (81.5, -233.679) projected
  line L37 (78.5, -240) -> (81.5, -240) projected
  line L38 (78.5, -233.679) -> (78.5, -240) projected
  arc A37 (77.25, -232.2) -> (78.5, -233.679) centre (78.75, -232.2) ccw projected
  line L39 (77.25, -230.8) -> (77.25, -232.2) projected
  arc A38 (78.6723, -229.302) -> (77.25, -230.8) centre (78.75, -230.8) ccw projected
  arc A39 (81.3277, -229.302) -> (78.6723, -229.302) centre (80, -230) ccw projected
  arc A40 (149.302, -218.6723) -> (149.302, -221.3277) centre (150, -220) ccw projected
  arc A41 (150.8, -217.25) -> (149.302, -218.6723) centre (150.8, -218.75) ccw projected
  line L40 (152.2, -217.25) -> (150.8, -217.25) projected
  arc A42 (153.679, -218.5) -> (152.2, -217.25) centre (152.2, -218.75) ccw projected
  line L41 (160, -218.5) -> (153.679, -218.5) projected
  line L42 (160, -221.5) -> (160, -218.5) projected
  line L43 (153.679, -221.5) -> (160, -221.5) projected
  arc A43 (152.2, -222.75) -> (153.679, -221.5) centre (152.2, -221.25) ccw projected
  line L44 (150.8, -222.75) -> (152.2, -222.75) projected
  arc A44 (149.302, -221.3277) -> (150.8, -222.75) centre (150.8, -221.25) ccw projected
  arc A45 (149.302, -126.6723) -> (149.302, -129.3277) centre (150, -128) ccw projected
  arc A46 (150.8, -125.25) -> (149.302, -126.6723) centre (150.8, -126.75) ccw projected
  line L45 (152.2, -125.25) -> (150.8, -125.25) projected
  arc A47 (153.679, -126.5) -> (152.2, -125.25) centre (152.2, -126.75) ccw projected
  line L46 (160, -126.5) -> (153.679, -126.5) projected
  line L47 (160, -129.5) -> (160, -126.5) projected
  line L48 (153.679, -129.5) -> (160, -129.5) projected
  arc A48 (152.2, -130.75) -> (153.679, -129.5) centre (152.2, -129.25) ccw projected
  line L49 (150.8, -130.75) -> (152.2, -130.75) projected
  arc A49 (149.302, -129.3277) -> (150.8, -130.75) centre (150.8, -129.25) ccw projected
  arc A50 (149.302, -34.6723) -> (149.302, -37.3277) centre (150, -36) ccw projected
  arc A51 (150.8, -33.25) -> (149.302, -34.6723) centre (150.8, -34.75) ccw projected
  line L50 (152.2, -33.25) -> (150.8, -33.25) projected
  arc A52 (153.679, -34.5) -> (152.2, -33.25) centre (152.2, -34.75) ccw projected
  line L51 (160, -34.5) -> (153.679, -34.5) projected
  line L52 (160, -37.5) -> (160, -34.5) projected
  line L53 (153.679, -37.5) -> (160, -37.5) projected
  arc A53 (152.2, -38.75) -> (153.679, -37.5) centre (152.2, -37.25) ccw projected
  line L54 (150.8, -38.75) -> (152.2, -38.75) projected
  arc A54 (149.302, -37.3277) -> (150.8, -38.75) centre (150.8, -37.25) ccw projected
  arc A55 (149.302, 57.3277) -> (149.302, 54.6723) centre (150, 56) ccw projected
  arc A56 (150.8, 58.75) -> (149.302, 57.3277) centre (150.8, 57.25) ccw projected
  line L55 (152.2, 58.75) -> (150.8, 58.75) projected
  arc A57 (153.679, 57.5) -> (152.2, 58.75) centre (152.2, 57.25) ccw projected
  line L56 (160, 57.5) -> (153.679, 57.5) projected
  line L57 (160, 54.5) -> (160, 57.5) projected
  line L58 (153.679, 54.5) -> (160, 54.5) projected
  arc A58 (152.2, 53.25) -> (153.679, 54.5) centre (152.2, 54.75) ccw projected
  line L59 (150.8, 53.25) -> (152.2, 53.25) projected
  arc A59 (149.302, 54.6723) -> (150.8, 53.25) centre (150.8, 54.75) ccw projected
  line L60 (160, 146.5) -> (160, 149.5) projected
  line L61 (153.679, 146.5) -> (160, 146.5) projected
  arc A60 (152.2, 145.25) -> (153.679, 146.5) centre (152.2, 146.75) ccw projected
  line L62 (150.8, 145.25) -> (152.2, 145.25) projected
  arc A61 (149.302, 146.6723) -> (150.8, 145.25) centre (150.8, 146.75) ccw projected
  arc A62 (149.302, 149.3277) -> (149.302, 146.6723) centre (150, 148) ccw projected
  arc A63 (150.8, 150.75) -> (149.302, 149.3277) centre (150.8, 149.25) ccw projected
  line L63 (152.2, 150.75) -> (150.8, 150.75) projected
  arc A64 (153.679, 149.5) -> (152.2, 150.75) centre (152.2, 149.25) ccw projected
  line L64 (160, 149.5) -> (153.679, 149.5) projected
  line L65 (160, 240) -> (125, 240) projected
  point P0 (0, 0)
  dimension "d224" = 92
extrude "Monteringshuller" cut sketch "Sketch7" against normal blind 5
sketch "Sketch8" plane through (0, 6, 0) normal (0, 1, 0) x (1, 0, 0)
  circle A0 centre (122, -200) radius 8 projected
  circle A1 centre (-150, -200) radius 8 projected
  point P0 (0, 0)
extrude "Lejehuller" cut sketch "Sketch8" against normal blind 3.5
equation "\"d2\" = 0.5 * d1"
equation "\"d3\" = 0.5 * d0"
equation "\"d6\" = d7"
equation "\"d9\" = d8"
properties part number "Venstre side mk2"
